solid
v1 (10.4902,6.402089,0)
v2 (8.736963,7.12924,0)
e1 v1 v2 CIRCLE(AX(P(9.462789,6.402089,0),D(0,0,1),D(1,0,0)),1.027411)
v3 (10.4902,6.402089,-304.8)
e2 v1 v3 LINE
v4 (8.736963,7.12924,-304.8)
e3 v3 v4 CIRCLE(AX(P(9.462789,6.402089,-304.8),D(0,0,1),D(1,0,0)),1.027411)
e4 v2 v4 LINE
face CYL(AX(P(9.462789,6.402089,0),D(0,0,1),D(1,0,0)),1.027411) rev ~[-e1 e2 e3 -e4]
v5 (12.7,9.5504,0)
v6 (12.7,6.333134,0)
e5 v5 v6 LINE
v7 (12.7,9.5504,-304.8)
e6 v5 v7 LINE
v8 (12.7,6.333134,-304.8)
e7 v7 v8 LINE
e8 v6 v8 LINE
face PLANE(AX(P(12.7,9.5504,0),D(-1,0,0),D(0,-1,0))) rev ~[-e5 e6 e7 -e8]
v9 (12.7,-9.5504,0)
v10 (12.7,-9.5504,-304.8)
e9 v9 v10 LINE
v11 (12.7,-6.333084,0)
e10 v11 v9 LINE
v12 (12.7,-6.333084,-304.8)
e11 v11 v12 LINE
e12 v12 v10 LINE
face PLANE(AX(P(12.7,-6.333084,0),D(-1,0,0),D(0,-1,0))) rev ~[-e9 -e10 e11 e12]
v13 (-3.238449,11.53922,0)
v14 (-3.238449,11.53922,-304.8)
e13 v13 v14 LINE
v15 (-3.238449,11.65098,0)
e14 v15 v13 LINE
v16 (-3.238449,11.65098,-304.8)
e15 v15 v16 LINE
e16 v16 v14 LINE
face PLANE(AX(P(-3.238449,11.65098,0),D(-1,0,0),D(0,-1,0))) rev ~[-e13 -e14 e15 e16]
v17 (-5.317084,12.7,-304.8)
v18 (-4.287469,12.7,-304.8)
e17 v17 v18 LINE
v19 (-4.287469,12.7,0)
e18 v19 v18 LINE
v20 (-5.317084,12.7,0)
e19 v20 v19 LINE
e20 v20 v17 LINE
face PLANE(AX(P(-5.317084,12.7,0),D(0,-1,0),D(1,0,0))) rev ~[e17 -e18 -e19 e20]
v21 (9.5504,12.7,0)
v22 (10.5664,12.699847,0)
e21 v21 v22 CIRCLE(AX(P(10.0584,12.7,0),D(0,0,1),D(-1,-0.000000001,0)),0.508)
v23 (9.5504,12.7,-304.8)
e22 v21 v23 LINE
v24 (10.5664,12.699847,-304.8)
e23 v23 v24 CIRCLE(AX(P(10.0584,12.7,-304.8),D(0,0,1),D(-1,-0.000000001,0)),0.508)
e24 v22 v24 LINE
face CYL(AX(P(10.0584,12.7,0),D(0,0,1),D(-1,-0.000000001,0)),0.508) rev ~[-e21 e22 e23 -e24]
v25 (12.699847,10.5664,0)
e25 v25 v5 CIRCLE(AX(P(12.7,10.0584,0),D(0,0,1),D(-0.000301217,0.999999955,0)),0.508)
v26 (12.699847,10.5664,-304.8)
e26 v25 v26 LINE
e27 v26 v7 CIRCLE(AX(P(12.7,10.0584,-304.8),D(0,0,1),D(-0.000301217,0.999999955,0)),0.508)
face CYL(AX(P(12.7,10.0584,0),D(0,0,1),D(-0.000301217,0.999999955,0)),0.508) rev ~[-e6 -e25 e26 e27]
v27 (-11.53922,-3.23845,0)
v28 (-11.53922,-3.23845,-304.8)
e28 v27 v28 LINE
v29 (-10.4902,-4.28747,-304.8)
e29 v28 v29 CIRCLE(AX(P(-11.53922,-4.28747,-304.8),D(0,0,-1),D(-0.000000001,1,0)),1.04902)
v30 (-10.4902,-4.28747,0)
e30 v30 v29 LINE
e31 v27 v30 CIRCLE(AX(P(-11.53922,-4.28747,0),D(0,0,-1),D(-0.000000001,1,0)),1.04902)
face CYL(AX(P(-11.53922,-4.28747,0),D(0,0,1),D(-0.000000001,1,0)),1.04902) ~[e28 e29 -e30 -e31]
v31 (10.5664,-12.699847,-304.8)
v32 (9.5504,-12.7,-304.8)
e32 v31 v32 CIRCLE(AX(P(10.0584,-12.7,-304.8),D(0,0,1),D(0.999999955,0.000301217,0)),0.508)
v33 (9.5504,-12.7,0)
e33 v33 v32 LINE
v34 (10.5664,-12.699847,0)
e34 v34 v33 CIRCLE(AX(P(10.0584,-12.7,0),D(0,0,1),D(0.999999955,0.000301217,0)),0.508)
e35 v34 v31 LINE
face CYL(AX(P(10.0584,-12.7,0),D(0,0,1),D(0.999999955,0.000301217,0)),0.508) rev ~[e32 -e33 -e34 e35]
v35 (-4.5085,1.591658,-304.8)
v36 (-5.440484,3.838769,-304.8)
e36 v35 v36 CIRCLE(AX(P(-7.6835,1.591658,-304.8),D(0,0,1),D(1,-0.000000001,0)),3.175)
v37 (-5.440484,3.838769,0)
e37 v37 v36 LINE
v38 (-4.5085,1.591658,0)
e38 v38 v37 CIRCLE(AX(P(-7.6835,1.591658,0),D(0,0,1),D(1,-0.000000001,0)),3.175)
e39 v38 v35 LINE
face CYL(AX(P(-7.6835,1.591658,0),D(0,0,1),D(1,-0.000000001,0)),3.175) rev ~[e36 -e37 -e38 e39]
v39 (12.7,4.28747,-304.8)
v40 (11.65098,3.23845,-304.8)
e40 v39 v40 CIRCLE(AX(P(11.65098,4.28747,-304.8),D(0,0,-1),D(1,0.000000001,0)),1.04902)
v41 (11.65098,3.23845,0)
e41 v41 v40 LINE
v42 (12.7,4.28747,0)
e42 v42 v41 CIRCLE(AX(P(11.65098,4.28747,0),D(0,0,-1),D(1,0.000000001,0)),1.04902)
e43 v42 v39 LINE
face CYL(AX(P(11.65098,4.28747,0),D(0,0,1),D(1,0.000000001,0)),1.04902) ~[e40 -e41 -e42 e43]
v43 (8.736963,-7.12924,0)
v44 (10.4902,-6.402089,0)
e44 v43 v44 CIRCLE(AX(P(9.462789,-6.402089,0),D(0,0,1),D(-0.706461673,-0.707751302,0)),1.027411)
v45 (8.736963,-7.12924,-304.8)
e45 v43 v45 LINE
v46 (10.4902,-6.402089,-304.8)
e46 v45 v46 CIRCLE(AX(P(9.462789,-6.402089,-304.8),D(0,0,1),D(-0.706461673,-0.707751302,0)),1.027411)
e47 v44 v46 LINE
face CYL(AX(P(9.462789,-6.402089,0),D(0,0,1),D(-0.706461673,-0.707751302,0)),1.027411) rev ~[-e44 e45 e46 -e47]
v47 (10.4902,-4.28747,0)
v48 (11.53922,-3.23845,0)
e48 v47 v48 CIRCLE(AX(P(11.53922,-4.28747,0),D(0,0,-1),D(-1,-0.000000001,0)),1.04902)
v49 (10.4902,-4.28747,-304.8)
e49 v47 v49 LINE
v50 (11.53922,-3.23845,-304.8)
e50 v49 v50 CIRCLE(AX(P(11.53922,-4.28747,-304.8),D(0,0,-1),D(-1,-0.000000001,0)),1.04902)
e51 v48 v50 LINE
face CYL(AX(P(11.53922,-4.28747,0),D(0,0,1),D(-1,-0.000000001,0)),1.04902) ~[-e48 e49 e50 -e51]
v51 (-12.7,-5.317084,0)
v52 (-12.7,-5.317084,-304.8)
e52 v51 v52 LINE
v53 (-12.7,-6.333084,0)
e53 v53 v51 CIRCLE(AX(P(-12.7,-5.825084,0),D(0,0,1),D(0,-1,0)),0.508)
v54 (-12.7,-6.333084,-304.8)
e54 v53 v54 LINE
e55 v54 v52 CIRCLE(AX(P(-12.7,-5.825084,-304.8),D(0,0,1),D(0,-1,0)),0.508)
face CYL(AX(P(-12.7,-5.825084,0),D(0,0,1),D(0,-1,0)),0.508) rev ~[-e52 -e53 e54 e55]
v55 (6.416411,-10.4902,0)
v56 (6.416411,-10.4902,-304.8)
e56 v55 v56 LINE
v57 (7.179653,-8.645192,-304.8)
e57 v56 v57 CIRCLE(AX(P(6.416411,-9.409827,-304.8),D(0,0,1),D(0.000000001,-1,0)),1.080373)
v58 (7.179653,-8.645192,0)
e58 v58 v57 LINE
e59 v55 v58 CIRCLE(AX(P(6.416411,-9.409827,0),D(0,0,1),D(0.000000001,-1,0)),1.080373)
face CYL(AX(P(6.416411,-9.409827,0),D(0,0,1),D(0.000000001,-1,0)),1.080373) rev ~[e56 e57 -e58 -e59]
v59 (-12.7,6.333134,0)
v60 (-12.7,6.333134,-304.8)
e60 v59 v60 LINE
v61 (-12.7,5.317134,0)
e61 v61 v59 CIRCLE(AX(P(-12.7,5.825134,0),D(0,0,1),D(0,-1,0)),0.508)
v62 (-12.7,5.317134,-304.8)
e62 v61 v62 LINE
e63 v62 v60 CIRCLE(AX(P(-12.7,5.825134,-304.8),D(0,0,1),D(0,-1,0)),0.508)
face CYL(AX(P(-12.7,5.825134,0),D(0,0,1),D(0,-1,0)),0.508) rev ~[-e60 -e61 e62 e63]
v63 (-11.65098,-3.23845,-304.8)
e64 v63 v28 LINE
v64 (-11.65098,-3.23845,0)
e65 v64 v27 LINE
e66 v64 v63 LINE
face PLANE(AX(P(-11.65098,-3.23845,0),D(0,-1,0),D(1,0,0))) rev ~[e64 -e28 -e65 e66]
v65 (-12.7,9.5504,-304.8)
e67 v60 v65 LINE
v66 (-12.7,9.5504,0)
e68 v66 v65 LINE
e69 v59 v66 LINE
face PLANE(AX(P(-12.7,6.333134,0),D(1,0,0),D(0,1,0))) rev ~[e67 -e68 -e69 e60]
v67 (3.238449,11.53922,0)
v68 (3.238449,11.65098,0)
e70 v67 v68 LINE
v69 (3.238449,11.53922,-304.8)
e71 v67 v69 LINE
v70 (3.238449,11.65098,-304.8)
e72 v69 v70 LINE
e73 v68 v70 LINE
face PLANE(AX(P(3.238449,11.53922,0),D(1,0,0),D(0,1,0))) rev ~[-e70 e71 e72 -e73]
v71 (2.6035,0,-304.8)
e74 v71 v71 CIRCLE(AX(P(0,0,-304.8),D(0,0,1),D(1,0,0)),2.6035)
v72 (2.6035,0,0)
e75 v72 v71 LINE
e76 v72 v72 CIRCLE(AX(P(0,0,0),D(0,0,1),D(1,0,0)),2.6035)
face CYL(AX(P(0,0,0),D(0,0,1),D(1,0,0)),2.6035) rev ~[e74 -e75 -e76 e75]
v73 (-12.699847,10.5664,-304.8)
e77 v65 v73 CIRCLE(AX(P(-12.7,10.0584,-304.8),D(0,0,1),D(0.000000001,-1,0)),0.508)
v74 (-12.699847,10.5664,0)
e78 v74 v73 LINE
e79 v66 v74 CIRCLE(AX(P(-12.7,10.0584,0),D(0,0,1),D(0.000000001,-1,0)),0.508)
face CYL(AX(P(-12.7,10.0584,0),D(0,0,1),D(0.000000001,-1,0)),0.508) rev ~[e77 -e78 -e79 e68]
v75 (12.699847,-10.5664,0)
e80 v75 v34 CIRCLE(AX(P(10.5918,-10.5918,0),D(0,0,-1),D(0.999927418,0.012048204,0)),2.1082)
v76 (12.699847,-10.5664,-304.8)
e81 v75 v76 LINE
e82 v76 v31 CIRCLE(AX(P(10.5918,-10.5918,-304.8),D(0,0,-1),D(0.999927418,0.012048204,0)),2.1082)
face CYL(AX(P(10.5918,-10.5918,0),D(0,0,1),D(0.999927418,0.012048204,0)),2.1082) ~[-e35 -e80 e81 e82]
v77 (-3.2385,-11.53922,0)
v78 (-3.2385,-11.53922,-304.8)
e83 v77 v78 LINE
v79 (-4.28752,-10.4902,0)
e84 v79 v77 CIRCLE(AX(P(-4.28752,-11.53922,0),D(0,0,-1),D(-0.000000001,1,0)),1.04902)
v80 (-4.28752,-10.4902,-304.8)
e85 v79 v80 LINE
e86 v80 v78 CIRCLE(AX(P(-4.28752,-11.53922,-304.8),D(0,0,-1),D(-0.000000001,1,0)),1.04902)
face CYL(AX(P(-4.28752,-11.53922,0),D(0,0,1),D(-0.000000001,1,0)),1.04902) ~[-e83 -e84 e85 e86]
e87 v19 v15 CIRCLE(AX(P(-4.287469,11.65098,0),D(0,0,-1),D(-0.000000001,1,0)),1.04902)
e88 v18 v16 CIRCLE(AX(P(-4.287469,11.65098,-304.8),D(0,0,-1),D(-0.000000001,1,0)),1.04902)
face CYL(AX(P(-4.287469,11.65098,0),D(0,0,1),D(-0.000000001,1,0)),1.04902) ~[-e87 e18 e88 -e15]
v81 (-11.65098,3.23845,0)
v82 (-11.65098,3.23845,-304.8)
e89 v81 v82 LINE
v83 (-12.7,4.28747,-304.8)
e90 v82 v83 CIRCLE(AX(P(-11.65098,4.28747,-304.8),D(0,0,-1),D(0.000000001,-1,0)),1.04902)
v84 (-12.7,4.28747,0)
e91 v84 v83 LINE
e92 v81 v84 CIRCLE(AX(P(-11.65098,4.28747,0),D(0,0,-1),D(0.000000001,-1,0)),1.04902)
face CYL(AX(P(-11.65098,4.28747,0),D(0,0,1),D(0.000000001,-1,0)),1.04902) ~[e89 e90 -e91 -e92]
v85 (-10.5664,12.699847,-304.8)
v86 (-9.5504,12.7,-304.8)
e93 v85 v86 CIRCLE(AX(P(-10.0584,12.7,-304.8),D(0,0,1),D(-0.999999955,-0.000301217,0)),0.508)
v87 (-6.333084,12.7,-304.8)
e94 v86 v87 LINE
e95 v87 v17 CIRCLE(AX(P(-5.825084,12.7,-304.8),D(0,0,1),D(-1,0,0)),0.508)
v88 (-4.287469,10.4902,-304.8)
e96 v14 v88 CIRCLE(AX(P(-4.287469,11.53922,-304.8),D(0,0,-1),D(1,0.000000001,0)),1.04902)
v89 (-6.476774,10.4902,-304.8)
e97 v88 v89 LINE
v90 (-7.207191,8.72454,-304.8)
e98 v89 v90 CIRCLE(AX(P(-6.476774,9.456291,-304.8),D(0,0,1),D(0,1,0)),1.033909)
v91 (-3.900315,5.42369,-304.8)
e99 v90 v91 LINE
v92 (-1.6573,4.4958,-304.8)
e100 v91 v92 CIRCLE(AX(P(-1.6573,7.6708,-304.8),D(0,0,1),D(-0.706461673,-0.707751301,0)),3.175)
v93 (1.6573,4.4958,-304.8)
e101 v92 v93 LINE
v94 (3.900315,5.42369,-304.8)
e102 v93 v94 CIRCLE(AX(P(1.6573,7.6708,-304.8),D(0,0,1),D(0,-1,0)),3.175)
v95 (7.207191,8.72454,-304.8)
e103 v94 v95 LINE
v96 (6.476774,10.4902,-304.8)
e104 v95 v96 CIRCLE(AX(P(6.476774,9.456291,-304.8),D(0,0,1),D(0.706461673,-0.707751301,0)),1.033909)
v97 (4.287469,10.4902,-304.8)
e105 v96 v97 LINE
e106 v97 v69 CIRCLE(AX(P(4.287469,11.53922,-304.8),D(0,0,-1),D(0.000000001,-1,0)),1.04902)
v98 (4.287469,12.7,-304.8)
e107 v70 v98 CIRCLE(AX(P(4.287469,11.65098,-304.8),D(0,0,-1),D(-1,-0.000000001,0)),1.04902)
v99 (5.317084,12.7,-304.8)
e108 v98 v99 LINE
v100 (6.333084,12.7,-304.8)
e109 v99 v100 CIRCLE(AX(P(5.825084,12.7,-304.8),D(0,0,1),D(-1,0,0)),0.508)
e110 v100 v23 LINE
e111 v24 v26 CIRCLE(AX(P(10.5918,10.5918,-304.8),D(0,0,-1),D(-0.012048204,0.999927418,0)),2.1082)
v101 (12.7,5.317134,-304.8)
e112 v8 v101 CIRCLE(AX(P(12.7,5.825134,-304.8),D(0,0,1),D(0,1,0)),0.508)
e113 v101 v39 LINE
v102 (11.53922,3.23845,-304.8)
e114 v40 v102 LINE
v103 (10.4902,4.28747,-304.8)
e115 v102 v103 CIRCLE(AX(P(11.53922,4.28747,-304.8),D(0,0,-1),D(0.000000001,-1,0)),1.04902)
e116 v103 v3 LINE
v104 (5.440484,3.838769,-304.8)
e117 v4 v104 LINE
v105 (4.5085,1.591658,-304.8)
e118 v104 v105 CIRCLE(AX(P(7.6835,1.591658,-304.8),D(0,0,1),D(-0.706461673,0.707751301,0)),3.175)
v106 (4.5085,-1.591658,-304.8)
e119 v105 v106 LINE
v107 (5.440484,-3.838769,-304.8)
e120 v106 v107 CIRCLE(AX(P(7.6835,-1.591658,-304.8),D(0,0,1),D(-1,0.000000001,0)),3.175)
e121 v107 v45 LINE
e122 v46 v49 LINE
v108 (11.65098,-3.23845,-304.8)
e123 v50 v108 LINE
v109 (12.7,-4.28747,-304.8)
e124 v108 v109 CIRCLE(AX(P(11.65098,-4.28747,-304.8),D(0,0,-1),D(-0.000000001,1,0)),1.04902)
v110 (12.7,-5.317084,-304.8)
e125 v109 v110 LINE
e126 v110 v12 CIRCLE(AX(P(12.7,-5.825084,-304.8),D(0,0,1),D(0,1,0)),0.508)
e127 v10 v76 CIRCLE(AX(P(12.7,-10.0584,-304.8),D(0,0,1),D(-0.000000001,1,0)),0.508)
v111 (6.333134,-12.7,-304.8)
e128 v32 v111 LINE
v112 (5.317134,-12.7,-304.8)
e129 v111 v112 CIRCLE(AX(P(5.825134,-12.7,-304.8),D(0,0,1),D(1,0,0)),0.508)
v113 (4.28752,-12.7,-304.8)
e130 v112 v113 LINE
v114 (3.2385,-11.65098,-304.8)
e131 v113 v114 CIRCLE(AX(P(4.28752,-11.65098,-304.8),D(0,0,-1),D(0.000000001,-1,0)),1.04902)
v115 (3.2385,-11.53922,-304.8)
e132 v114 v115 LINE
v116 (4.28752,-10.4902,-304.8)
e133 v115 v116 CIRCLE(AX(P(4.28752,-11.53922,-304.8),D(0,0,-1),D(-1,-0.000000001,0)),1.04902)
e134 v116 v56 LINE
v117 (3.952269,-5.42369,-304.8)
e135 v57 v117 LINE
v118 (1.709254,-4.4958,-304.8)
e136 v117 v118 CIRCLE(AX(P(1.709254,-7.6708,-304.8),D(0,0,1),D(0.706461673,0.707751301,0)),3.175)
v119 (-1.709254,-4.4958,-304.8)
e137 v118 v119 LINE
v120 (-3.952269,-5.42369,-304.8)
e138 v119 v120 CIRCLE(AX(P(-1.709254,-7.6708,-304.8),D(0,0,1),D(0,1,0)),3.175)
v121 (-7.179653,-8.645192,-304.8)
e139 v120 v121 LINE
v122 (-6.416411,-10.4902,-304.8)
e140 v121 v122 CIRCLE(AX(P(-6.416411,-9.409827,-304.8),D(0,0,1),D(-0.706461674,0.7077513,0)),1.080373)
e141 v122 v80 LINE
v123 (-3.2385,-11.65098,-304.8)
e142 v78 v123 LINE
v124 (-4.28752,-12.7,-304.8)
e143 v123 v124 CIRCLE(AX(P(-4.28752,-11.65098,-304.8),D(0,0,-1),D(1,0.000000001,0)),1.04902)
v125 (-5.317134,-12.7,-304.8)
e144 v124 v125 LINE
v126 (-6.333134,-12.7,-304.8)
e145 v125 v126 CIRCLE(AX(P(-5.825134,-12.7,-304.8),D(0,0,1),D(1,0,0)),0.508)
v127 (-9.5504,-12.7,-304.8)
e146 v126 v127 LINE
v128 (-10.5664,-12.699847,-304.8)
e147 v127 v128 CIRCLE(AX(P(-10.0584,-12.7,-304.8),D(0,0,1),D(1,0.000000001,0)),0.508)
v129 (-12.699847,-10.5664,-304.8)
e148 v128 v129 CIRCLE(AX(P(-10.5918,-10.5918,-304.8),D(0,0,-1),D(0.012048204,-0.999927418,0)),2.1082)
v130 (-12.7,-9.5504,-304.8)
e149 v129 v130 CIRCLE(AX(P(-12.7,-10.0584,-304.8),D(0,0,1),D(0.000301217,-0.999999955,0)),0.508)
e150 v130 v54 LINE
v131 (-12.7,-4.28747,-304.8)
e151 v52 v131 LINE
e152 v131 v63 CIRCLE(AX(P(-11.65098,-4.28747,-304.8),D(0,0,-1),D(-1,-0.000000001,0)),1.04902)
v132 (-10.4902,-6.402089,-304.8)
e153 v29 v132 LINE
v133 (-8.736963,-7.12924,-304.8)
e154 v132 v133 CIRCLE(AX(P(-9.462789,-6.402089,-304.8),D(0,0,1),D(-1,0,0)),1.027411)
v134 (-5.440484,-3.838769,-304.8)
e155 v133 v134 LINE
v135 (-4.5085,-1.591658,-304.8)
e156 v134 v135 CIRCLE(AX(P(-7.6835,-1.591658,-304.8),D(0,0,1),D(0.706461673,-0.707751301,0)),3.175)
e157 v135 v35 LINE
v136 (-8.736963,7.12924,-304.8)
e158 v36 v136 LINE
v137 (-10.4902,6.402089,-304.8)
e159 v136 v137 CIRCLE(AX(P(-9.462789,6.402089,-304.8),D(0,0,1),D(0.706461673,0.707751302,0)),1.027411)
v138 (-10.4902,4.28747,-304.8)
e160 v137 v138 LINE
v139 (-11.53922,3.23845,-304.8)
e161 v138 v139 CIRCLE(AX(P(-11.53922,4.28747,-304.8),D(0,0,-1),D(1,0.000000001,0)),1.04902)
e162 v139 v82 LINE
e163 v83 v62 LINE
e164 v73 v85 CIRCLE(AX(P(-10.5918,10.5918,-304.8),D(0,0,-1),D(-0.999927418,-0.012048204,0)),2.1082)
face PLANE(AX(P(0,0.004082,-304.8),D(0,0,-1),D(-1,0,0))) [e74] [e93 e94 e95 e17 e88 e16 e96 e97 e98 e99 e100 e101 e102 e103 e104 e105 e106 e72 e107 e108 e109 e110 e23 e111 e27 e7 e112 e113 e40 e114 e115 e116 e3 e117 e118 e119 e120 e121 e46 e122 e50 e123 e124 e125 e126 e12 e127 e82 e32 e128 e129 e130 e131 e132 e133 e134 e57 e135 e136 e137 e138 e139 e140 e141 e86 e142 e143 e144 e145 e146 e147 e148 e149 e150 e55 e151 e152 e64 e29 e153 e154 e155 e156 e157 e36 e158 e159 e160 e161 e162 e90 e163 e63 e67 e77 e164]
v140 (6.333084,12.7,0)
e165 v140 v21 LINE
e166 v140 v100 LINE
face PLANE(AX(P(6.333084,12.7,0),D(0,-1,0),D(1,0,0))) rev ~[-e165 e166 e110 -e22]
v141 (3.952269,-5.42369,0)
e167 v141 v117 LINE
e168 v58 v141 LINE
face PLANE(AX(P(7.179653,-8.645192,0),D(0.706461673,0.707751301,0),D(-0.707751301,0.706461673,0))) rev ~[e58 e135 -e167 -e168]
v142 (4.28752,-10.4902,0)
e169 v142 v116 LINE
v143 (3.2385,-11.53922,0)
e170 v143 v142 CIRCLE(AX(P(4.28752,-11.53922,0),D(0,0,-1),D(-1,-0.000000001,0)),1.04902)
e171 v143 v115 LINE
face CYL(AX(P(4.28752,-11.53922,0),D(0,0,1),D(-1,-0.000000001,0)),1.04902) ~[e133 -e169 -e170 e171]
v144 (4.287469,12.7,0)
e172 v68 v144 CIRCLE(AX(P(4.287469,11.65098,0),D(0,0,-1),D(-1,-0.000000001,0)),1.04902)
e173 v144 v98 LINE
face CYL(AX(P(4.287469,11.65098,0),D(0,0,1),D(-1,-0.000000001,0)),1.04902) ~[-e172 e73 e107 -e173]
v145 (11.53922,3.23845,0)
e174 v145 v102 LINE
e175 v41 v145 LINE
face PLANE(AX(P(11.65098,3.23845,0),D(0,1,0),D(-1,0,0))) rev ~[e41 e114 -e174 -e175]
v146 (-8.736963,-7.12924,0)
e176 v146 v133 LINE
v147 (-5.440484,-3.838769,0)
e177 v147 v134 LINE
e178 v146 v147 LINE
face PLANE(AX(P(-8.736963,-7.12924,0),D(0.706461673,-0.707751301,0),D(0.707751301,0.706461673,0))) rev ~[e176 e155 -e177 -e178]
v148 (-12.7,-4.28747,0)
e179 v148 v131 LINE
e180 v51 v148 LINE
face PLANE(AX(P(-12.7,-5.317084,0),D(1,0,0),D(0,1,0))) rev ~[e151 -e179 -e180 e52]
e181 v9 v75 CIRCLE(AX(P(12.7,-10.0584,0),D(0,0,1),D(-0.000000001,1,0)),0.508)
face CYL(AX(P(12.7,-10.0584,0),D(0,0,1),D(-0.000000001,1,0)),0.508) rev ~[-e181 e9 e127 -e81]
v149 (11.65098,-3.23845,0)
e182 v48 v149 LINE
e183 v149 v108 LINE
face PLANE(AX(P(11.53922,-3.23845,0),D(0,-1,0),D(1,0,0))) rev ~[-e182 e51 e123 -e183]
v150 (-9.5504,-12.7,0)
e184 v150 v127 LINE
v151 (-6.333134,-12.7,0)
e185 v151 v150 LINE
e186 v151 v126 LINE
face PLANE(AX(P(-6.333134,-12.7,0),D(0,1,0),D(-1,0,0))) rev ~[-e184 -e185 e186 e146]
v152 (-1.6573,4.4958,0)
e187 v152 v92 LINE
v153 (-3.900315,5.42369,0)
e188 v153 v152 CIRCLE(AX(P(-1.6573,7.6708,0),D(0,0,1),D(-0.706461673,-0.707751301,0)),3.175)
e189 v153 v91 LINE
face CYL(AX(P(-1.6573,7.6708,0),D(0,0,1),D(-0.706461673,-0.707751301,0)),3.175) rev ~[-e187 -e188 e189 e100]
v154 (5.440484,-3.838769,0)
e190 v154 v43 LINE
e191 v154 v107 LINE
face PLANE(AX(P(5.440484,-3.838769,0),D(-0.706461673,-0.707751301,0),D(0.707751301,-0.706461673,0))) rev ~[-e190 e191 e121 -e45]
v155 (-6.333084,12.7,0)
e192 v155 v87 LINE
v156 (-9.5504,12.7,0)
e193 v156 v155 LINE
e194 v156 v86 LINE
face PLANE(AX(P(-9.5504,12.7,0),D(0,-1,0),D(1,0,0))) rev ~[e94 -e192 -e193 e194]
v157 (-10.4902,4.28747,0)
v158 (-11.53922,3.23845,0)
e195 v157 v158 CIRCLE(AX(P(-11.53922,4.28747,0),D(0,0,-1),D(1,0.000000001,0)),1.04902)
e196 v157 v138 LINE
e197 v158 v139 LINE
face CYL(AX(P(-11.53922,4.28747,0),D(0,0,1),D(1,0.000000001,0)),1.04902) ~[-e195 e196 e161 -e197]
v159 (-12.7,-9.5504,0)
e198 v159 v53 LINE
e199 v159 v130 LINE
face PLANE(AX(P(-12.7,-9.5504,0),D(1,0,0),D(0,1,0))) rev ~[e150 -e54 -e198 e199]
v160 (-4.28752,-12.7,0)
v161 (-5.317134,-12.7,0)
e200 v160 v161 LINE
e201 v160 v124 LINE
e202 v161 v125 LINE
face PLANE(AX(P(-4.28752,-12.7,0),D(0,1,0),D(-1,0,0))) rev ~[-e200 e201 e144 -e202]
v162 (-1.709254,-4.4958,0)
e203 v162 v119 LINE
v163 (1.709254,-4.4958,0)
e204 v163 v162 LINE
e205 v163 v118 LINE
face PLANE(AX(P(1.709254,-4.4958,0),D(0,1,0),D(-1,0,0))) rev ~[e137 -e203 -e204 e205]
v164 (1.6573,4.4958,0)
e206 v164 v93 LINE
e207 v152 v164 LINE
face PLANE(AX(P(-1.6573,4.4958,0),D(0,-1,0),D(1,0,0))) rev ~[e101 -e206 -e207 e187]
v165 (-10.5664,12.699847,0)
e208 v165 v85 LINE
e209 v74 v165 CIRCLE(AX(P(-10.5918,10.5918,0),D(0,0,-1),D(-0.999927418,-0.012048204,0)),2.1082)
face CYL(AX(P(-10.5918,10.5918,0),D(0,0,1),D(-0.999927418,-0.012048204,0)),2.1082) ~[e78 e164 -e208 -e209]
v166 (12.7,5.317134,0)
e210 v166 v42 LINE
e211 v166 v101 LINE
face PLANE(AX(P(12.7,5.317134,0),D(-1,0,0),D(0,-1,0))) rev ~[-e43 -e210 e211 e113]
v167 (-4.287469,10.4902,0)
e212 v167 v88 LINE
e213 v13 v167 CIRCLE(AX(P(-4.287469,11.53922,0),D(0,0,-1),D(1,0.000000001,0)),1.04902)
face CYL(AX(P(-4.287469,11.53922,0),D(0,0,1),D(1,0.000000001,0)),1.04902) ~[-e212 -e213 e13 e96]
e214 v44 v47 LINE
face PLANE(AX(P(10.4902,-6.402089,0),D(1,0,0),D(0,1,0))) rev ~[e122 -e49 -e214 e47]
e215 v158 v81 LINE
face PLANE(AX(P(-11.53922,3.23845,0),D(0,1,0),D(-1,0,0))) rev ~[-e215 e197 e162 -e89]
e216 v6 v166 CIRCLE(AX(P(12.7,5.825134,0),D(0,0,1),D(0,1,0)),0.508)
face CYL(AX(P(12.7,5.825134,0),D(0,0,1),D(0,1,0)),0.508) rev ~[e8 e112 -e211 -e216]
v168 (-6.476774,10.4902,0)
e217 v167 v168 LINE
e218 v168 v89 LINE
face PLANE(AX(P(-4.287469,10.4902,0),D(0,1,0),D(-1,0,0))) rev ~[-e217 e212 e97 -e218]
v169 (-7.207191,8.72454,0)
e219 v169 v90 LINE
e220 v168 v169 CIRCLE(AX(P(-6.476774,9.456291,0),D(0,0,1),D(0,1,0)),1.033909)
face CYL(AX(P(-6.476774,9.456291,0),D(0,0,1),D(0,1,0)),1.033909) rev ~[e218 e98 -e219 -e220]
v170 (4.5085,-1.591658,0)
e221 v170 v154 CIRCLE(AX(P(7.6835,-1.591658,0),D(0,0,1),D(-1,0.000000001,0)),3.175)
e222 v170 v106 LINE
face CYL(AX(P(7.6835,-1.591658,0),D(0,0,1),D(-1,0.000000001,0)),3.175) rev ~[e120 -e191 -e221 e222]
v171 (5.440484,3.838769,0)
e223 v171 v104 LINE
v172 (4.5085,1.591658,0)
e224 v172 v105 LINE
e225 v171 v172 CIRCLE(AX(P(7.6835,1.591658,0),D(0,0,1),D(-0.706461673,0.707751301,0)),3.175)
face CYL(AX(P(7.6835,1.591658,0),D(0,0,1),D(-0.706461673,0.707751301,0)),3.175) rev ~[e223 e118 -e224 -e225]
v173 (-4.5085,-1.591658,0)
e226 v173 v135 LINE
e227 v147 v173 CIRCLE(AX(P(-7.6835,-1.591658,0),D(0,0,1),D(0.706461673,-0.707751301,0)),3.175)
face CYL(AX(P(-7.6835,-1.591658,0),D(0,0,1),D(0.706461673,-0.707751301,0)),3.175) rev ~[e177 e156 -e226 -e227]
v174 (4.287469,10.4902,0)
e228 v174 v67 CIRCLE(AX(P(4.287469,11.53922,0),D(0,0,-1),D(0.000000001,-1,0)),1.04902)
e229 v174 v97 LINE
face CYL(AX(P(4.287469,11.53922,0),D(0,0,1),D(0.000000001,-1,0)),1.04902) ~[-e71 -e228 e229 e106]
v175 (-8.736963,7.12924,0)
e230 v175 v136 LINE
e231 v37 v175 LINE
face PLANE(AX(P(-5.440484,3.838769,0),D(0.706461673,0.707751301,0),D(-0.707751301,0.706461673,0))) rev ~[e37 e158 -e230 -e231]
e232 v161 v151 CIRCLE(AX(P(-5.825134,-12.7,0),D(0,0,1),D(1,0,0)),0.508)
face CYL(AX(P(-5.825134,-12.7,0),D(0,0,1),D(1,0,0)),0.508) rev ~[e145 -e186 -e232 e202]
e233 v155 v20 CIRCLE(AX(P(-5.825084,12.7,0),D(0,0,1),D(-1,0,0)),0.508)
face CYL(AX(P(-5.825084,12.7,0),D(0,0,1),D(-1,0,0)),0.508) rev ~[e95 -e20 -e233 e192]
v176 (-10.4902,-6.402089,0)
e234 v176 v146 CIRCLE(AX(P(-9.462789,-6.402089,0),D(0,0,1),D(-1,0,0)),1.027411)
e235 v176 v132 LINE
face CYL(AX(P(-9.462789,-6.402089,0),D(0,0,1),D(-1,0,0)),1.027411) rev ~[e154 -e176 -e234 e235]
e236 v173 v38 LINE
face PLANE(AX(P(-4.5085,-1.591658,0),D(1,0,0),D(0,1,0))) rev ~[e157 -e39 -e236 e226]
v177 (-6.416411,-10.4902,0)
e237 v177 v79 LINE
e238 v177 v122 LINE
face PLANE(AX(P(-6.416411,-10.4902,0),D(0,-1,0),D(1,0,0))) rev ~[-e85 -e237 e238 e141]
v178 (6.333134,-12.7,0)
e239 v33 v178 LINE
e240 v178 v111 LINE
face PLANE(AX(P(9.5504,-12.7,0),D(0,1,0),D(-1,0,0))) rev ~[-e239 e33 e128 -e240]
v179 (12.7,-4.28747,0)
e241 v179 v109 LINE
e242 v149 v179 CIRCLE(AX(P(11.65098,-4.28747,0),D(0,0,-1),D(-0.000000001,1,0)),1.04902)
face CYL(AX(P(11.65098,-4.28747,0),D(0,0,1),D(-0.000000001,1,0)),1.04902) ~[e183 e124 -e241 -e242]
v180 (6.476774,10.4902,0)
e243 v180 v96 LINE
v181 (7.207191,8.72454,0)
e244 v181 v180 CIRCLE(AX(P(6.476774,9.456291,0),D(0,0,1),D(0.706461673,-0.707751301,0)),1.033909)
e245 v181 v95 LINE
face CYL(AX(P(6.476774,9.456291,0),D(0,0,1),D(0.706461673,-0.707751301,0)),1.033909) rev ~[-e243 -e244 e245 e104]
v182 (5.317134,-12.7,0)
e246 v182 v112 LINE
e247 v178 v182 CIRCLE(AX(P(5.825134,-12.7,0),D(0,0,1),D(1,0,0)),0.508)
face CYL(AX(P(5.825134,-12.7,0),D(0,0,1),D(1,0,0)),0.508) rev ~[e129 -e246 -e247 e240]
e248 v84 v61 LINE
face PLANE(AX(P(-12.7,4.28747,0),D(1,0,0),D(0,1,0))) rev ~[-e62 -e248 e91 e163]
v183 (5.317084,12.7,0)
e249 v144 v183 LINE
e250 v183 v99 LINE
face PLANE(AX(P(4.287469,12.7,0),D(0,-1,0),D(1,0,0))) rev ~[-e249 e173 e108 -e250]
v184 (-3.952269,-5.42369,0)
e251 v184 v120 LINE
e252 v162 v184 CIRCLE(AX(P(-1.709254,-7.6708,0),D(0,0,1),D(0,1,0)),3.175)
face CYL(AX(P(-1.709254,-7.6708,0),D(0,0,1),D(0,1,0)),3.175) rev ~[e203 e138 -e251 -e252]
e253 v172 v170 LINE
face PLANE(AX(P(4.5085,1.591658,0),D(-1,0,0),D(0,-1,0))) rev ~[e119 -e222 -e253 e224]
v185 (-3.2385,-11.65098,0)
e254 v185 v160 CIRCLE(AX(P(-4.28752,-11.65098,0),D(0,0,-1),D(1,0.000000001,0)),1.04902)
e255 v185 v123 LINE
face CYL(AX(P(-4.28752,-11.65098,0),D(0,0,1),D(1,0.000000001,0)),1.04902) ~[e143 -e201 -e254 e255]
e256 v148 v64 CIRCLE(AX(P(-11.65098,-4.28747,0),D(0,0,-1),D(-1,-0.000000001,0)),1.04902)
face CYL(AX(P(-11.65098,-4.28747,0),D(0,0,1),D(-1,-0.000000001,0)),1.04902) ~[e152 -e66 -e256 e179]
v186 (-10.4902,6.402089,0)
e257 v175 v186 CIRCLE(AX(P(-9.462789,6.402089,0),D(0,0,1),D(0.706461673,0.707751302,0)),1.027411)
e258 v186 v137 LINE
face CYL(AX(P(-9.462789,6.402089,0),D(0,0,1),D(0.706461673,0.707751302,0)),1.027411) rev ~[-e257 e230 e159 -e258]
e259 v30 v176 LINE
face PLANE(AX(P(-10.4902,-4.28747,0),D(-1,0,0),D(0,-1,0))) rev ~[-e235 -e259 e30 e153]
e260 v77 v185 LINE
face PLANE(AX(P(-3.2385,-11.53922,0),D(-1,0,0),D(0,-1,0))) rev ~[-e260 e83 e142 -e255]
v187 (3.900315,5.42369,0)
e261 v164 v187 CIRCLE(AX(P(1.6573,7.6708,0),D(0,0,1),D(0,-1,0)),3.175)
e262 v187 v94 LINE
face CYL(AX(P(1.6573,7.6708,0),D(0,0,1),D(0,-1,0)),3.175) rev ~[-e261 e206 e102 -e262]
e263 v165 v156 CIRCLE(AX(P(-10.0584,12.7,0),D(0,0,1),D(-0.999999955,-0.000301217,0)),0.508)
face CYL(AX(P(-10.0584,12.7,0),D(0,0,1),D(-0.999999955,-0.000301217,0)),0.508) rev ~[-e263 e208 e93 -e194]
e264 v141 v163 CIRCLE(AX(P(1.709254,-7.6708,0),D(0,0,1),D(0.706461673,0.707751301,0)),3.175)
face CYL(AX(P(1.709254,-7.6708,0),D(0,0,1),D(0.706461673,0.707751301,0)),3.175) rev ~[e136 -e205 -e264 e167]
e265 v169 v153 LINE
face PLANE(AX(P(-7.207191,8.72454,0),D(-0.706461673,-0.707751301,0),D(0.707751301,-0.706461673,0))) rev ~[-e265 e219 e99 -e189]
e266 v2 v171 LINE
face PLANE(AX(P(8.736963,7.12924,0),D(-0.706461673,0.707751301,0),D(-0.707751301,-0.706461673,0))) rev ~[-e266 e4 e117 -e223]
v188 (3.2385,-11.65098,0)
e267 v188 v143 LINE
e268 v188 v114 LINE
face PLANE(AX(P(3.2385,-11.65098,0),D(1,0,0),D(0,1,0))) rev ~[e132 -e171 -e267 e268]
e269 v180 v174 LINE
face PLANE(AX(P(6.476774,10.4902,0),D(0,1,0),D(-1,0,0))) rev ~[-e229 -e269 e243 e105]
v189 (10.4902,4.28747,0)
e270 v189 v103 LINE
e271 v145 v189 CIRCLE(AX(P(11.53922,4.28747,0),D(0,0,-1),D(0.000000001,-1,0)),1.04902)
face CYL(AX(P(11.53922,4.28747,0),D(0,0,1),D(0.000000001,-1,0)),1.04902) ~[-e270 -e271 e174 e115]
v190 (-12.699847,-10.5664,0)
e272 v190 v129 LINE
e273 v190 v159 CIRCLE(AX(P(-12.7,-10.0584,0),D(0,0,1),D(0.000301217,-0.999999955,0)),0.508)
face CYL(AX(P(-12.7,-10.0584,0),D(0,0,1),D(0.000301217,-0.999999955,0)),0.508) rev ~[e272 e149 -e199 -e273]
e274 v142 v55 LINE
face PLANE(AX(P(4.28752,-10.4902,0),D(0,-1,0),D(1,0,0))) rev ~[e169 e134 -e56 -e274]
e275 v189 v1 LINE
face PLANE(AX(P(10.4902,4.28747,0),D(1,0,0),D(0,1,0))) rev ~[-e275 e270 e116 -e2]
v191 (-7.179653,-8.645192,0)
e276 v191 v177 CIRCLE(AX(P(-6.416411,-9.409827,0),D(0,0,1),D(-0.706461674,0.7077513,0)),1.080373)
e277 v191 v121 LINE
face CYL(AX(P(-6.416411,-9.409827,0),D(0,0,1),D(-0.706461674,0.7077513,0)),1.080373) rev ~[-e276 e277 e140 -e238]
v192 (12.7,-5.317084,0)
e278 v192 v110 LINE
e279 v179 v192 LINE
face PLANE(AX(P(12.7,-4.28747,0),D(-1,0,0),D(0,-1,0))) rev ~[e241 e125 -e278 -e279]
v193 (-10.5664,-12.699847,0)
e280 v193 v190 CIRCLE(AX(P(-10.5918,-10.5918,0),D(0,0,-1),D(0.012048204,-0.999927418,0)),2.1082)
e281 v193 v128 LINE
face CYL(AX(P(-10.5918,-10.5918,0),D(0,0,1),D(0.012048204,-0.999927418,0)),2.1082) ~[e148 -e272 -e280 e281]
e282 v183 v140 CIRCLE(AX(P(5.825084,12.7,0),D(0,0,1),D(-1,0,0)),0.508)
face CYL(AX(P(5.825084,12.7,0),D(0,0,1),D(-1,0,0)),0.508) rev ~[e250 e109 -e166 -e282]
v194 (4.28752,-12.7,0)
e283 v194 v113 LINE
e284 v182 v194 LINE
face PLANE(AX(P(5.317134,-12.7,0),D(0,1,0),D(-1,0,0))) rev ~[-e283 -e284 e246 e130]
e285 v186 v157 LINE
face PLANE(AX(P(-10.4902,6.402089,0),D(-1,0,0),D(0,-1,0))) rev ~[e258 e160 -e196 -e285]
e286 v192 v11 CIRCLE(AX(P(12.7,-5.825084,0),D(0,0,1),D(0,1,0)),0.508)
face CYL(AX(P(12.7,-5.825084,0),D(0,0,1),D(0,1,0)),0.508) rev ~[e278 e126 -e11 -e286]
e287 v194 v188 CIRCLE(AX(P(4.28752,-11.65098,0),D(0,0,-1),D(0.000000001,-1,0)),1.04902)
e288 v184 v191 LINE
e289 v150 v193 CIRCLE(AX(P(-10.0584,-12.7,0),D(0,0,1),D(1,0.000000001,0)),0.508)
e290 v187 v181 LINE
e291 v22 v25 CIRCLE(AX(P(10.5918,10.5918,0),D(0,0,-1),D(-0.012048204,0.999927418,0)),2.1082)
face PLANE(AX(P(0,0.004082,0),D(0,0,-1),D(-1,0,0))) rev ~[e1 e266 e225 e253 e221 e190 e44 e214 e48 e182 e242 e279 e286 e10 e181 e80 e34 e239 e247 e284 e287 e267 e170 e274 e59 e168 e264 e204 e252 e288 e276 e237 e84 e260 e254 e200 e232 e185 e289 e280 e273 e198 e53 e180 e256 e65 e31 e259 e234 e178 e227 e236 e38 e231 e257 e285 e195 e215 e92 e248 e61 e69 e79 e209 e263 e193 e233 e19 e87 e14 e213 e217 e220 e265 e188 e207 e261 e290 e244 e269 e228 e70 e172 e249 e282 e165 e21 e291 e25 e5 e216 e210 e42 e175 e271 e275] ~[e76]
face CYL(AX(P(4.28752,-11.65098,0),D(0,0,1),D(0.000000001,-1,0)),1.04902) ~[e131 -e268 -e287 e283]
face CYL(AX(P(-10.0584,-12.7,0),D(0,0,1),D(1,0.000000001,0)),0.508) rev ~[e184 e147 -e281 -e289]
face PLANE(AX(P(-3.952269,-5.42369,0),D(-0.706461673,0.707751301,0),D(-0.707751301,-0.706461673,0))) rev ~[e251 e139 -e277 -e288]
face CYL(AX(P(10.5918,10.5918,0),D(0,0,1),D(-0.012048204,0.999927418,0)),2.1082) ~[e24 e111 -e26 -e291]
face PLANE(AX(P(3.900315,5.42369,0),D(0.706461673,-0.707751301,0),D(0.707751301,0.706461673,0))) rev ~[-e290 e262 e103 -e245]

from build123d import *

# Parameters (mm, degrees)
SKETCH1_R      = 2.6035
EXTRUDE1_DEPTH = 304.8


with BuildPart() as part:
    # Sketch1 → Extrude1 (new body)
    with BuildSketch(Plane.XY):
        with BuildLine():
            Line((-7.207191475, 8.724540082), (-3.900315394, 5.423689619))
            ThreePointArc((-3.900315394, 5.423689619), (-2.8709819, 4.736928798), (-1.657299581, 4.4958))
            Line((-1.657299581, 4.4958), (1.657299581, 4.4958))
            ThreePointArc((1.657299581, 4.4958), (2.8709819, 4.736928798), (3.900315394, 5.423689619))
            Line((3.900315394, 5.423689619), (7.207191475, 8.724540082))
            ThreePointArc((7.207191475, 8.724540082), (7.43216212, 9.851515102), (6.476774195, 10.4902))
            Line((6.476774195, 10.4902), (4.2874692, 10.4902))
            ThreePointArc((4.2874692, 10.4902), (3.545700044, 10.797450844), (3.2384492, 11.53922))
            Line((3.2384492, 11.53922), (3.2384492, 11.65098))
            ThreePointArc((3.2384492, 11.65098), (3.545700044, 12.392749156), (4.2874692, 12.7))
            Line((4.2874692, 12.7), (5.3170836, 12.7))
            ThreePointArc((5.3170836, 12.7), (5.8250836, 12.192), (6.3330836, 12.7))
            Line((6.3330836, 12.7), (9.5504, 12.7))
            ThreePointArc((9.5504, 12.7), (10.058323491, 12.192000006), (10.566399977, 12.699846982))
            ThreePointArc((10.566399977, 12.699846982), (12.082522516, 12.082522516), (12.699846982, 10.566399977))
            ThreePointArc((12.699846982, 10.566399977), (12.192000006, 10.058323491), (12.7, 9.5504))
            Line((12.7, 9.5504), (12.7, 6.3331344))
            ThreePointArc((12.7, 6.3331344), (12.192, 5.8251344), (12.7, 5.3171344))
            Line((12.7, 5.3171344), (12.7, 4.287470133))
            ThreePointArc((12.7, 4.287470133), (12.392749156, 3.545700977), (11.65098, 3.238450133))
            Line((11.65098, 3.238450133), (11.53922, 3.238450133))
            ThreePointArc((11.53922, 3.238450133), (10.797450844, 3.545700977), (10.4902, 4.287470133))
            Line((10.4902, 4.287470133), (10.4902, 6.402089023))
            ThreePointArc((10.4902, 6.402089023), (9.856394933, 7.351113629), (8.736962546, 7.129240479))
            Line((8.736962546, 7.129240479), (5.440484187, 3.838768792))
            ThreePointArc((5.440484187, 3.838768792), (4.75073678, 2.808015636), (4.5085, 1.591658411))
            Line((4.5085, 1.591658411), (4.5085, -1.591658411))
            ThreePointArc((4.5085, -1.591658411), (4.75073678, -2.808015636), (5.440484187, -3.838768792))
            Line((5.440484187, -3.838768792), (8.736962546, -7.129240479))
            ThreePointArc((8.736962546, -7.129240479), (9.856394933, -7.351113629), (10.4902, -6.402089023))
            Line((10.4902, -6.402089023), (10.4902, -4.287470133))
            ThreePointArc((10.4902, -4.287470133), (10.797450844, -3.545700977), (11.53922, -3.238450133))
            Line((11.53922, -3.238450133), (11.65098, -3.238450133))
            ThreePointArc((11.65098, -3.238450133), (12.392749156, -3.545700977), (12.7, -4.287470133))
            Line((12.7, -4.287470133), (12.7, -5.3170836))
            ThreePointArc((12.7, -5.3170836), (12.192, -5.8250836), (12.7, -6.3330836))
            Line((12.7, -6.3330836), (12.7, -9.5504))
            ThreePointArc((12.7, -9.5504), (12.192000006, -10.058323491), (12.699846982, -10.566399977))
            ThreePointArc((12.699846982, -10.566399977), (12.082522516, -12.082522516), (10.566399977, -12.699846982))
            ThreePointArc((10.566399977, -12.699846982), (10.058323491, -12.192000006), (9.5504, -12.7))
            Line((9.5504, -12.7), (6.3331344, -12.7))
            ThreePointArc((6.3331344, -12.7), (5.8251344, -12.192), (5.3171344, -12.7))
            Line((5.3171344, -12.7), (4.28752, -12.7))
            ThreePointArc((4.28752, -12.7), (3.545750844, -12.392749156), (3.2385, -11.65098))
            Line((3.2385, -11.65098), (3.2385, -11.53922))
            ThreePointArc((3.2385, -11.53922), (3.545750844, -10.797450844), (4.28752, -10.4902))
            Line((4.28752, -10.4902), (6.41641086, -10.4902))
            ThreePointArc((6.41641086, -10.4902), (7.414733441, -9.822812921), (7.179652728, -8.645192207))
            Line((7.179652728, -8.645192207), (3.95226937, -5.423689619))
            ThreePointArc((3.95226937, -5.423689619), (2.922935876, -4.736928798), (1.709253557, -4.4958))
            Line((1.709253557, -4.4958), (-1.709253557, -4.4958))
            ThreePointArc((-1.709253557, -4.4958), (-2.922935876, -4.736928798), (-3.95226937, -5.423689619))
            Line((-3.95226937, -5.423689619), (-7.179652728, -8.645192207))
            ThreePointArc((-7.179652728, -8.645192207), (-7.414733441, -9.822812921), (-6.41641086, -10.4902))
            Line((-6.41641086, -10.4902), (-4.28752, -10.4902))
            ThreePointArc((-4.28752, -10.4902), (-3.545750844, -10.797450844), (-3.2385, -11.53922))
            Line((-3.2385, -11.53922), (-3.2385, -11.65098))
            ThreePointArc((-3.2385, -11.65098), (-3.545750844, -12.392749156), (-4.28752, -12.7))
            Line((-4.28752, -12.7), (-5.3171344, -12.7))
            ThreePointArc((-5.3171344, -12.7), (-5.8251344, -12.192), (-6.3331344, -12.7))
            Line((-6.3331344, -12.7), (-9.5504, -12.7))
            ThreePointArc((-9.5504, -12.7), (-10.058323491, -12.192000006), (-10.566399977, -12.699846982))
            ThreePointArc((-10.566399977, -12.699846982), (-12.082522516, -12.082522516), (-12.699846982, -10.566399977))
            ThreePointArc((-12.699846982, -10.566399977), (-12.192000006, -10.058323491), (-12.7, -9.5504))
            Line((-12.7, -9.5504), (-12.7, -6.3330836))
            ThreePointArc((-12.7, -6.3330836), (-12.192, -5.8250836), (-12.7, -5.3170836))
            Line((-12.7, -5.3170836), (-12.7, -4.287470133))
            ThreePointArc((-12.7, -4.287470133), (-12.392749156, -3.545700977), (-11.65098, -3.238450133))
            Line((-11.65098, -3.238450133), (-11.53922, -3.238450133))
            ThreePointArc((-11.53922, -3.238450133), (-10.797450844, -3.545700977), (-10.4902, -4.287470133))
            Line((-10.4902, -4.287470133), (-10.4902, -6.402089023))
            ThreePointArc((-10.4902, -6.402089023), (-9.856394933, -7.351113629), (-8.736962546, -7.129240479))
            Line((-8.736962546, -7.129240479), (-5.440484187, -3.838768792))
            ThreePointArc((-5.440484187, -3.838768792), (-4.75073678, -2.808015636), (-4.5085, -1.591658411))
            Line((-4.5085, -1.591658411), (-4.5085, 1.591658411))
            ThreePointArc((-4.5085, 1.591658411), (-4.75073678, 2.808015636), (-5.440484187, 3.838768792))
            Line((-5.440484187, 3.838768792), (-8.736962546, 7.129240479))
            ThreePointArc((-8.736962546, 7.129240479), (-9.856394933, 7.351113629), (-10.4902, 6.402089023))
            Line((-10.4902, 6.402089023), (-10.4902, 4.287470133))
            ThreePointArc((-10.4902, 4.287470133), (-10.797450844, 3.545700977), (-11.53922, 3.238450133))
            Line((-11.53922, 3.238450133), (-11.65098, 3.238450133))
            ThreePointArc((-11.65098, 3.238450133), (-12.392749156, 3.545700977), (-12.7, 4.287470133))
            Line((-12.7, 4.287470133), (-12.7, 5.3171344))
            ThreePointArc((-12.7, 5.3171344), (-12.192, 5.8251344), (-12.7, 6.3331344))
            Line((-12.7, 6.3331344), (-12.7, 9.5504))
            ThreePointArc((-12.7, 9.5504), (-12.192000006, 10.058323491), (-12.699846982, 10.566399977))
            ThreePointArc((-12.699846982, 10.566399977), (-12.082522516, 12.082522516), (-10.566399977, 12.699846982))
            ThreePointArc((-10.566399977, 12.699846982), (-10.058323491, 12.192000006), (-9.5504, 12.7))
            Line((-9.5504, 12.7), (-6.3330836, 12.7))
            ThreePointArc((-6.3330836, 12.7), (-5.8250836, 12.192), (-5.3170836, 12.7))
            Line((-5.3170836, 12.7), (-4.2874692, 12.7))
            ThreePointArc((-4.2874692, 12.7), (-3.545700044, 12.392749156), (-3.2384492, 11.65098))
            Line((-3.2384492, 11.65098), (-3.2384492, 11.53922))
            ThreePointArc((-3.2384492, 11.53922), (-3.545700044, 10.797450844), (-4.2874692, 10.4902))
            Line((-4.2874692, 10.4902), (-6.476774195, 10.4902))
            ThreePointArc((-6.476774195, 10.4902), (-7.43216212, 9.851515102), (-7.207191475, 8.724540082))
        make_face()
        Circle(SKETCH1_R, mode=Mode.SUBTRACT)
    extrude(amount=-EXTRUDE1_DEPTH)


solid = part.part
